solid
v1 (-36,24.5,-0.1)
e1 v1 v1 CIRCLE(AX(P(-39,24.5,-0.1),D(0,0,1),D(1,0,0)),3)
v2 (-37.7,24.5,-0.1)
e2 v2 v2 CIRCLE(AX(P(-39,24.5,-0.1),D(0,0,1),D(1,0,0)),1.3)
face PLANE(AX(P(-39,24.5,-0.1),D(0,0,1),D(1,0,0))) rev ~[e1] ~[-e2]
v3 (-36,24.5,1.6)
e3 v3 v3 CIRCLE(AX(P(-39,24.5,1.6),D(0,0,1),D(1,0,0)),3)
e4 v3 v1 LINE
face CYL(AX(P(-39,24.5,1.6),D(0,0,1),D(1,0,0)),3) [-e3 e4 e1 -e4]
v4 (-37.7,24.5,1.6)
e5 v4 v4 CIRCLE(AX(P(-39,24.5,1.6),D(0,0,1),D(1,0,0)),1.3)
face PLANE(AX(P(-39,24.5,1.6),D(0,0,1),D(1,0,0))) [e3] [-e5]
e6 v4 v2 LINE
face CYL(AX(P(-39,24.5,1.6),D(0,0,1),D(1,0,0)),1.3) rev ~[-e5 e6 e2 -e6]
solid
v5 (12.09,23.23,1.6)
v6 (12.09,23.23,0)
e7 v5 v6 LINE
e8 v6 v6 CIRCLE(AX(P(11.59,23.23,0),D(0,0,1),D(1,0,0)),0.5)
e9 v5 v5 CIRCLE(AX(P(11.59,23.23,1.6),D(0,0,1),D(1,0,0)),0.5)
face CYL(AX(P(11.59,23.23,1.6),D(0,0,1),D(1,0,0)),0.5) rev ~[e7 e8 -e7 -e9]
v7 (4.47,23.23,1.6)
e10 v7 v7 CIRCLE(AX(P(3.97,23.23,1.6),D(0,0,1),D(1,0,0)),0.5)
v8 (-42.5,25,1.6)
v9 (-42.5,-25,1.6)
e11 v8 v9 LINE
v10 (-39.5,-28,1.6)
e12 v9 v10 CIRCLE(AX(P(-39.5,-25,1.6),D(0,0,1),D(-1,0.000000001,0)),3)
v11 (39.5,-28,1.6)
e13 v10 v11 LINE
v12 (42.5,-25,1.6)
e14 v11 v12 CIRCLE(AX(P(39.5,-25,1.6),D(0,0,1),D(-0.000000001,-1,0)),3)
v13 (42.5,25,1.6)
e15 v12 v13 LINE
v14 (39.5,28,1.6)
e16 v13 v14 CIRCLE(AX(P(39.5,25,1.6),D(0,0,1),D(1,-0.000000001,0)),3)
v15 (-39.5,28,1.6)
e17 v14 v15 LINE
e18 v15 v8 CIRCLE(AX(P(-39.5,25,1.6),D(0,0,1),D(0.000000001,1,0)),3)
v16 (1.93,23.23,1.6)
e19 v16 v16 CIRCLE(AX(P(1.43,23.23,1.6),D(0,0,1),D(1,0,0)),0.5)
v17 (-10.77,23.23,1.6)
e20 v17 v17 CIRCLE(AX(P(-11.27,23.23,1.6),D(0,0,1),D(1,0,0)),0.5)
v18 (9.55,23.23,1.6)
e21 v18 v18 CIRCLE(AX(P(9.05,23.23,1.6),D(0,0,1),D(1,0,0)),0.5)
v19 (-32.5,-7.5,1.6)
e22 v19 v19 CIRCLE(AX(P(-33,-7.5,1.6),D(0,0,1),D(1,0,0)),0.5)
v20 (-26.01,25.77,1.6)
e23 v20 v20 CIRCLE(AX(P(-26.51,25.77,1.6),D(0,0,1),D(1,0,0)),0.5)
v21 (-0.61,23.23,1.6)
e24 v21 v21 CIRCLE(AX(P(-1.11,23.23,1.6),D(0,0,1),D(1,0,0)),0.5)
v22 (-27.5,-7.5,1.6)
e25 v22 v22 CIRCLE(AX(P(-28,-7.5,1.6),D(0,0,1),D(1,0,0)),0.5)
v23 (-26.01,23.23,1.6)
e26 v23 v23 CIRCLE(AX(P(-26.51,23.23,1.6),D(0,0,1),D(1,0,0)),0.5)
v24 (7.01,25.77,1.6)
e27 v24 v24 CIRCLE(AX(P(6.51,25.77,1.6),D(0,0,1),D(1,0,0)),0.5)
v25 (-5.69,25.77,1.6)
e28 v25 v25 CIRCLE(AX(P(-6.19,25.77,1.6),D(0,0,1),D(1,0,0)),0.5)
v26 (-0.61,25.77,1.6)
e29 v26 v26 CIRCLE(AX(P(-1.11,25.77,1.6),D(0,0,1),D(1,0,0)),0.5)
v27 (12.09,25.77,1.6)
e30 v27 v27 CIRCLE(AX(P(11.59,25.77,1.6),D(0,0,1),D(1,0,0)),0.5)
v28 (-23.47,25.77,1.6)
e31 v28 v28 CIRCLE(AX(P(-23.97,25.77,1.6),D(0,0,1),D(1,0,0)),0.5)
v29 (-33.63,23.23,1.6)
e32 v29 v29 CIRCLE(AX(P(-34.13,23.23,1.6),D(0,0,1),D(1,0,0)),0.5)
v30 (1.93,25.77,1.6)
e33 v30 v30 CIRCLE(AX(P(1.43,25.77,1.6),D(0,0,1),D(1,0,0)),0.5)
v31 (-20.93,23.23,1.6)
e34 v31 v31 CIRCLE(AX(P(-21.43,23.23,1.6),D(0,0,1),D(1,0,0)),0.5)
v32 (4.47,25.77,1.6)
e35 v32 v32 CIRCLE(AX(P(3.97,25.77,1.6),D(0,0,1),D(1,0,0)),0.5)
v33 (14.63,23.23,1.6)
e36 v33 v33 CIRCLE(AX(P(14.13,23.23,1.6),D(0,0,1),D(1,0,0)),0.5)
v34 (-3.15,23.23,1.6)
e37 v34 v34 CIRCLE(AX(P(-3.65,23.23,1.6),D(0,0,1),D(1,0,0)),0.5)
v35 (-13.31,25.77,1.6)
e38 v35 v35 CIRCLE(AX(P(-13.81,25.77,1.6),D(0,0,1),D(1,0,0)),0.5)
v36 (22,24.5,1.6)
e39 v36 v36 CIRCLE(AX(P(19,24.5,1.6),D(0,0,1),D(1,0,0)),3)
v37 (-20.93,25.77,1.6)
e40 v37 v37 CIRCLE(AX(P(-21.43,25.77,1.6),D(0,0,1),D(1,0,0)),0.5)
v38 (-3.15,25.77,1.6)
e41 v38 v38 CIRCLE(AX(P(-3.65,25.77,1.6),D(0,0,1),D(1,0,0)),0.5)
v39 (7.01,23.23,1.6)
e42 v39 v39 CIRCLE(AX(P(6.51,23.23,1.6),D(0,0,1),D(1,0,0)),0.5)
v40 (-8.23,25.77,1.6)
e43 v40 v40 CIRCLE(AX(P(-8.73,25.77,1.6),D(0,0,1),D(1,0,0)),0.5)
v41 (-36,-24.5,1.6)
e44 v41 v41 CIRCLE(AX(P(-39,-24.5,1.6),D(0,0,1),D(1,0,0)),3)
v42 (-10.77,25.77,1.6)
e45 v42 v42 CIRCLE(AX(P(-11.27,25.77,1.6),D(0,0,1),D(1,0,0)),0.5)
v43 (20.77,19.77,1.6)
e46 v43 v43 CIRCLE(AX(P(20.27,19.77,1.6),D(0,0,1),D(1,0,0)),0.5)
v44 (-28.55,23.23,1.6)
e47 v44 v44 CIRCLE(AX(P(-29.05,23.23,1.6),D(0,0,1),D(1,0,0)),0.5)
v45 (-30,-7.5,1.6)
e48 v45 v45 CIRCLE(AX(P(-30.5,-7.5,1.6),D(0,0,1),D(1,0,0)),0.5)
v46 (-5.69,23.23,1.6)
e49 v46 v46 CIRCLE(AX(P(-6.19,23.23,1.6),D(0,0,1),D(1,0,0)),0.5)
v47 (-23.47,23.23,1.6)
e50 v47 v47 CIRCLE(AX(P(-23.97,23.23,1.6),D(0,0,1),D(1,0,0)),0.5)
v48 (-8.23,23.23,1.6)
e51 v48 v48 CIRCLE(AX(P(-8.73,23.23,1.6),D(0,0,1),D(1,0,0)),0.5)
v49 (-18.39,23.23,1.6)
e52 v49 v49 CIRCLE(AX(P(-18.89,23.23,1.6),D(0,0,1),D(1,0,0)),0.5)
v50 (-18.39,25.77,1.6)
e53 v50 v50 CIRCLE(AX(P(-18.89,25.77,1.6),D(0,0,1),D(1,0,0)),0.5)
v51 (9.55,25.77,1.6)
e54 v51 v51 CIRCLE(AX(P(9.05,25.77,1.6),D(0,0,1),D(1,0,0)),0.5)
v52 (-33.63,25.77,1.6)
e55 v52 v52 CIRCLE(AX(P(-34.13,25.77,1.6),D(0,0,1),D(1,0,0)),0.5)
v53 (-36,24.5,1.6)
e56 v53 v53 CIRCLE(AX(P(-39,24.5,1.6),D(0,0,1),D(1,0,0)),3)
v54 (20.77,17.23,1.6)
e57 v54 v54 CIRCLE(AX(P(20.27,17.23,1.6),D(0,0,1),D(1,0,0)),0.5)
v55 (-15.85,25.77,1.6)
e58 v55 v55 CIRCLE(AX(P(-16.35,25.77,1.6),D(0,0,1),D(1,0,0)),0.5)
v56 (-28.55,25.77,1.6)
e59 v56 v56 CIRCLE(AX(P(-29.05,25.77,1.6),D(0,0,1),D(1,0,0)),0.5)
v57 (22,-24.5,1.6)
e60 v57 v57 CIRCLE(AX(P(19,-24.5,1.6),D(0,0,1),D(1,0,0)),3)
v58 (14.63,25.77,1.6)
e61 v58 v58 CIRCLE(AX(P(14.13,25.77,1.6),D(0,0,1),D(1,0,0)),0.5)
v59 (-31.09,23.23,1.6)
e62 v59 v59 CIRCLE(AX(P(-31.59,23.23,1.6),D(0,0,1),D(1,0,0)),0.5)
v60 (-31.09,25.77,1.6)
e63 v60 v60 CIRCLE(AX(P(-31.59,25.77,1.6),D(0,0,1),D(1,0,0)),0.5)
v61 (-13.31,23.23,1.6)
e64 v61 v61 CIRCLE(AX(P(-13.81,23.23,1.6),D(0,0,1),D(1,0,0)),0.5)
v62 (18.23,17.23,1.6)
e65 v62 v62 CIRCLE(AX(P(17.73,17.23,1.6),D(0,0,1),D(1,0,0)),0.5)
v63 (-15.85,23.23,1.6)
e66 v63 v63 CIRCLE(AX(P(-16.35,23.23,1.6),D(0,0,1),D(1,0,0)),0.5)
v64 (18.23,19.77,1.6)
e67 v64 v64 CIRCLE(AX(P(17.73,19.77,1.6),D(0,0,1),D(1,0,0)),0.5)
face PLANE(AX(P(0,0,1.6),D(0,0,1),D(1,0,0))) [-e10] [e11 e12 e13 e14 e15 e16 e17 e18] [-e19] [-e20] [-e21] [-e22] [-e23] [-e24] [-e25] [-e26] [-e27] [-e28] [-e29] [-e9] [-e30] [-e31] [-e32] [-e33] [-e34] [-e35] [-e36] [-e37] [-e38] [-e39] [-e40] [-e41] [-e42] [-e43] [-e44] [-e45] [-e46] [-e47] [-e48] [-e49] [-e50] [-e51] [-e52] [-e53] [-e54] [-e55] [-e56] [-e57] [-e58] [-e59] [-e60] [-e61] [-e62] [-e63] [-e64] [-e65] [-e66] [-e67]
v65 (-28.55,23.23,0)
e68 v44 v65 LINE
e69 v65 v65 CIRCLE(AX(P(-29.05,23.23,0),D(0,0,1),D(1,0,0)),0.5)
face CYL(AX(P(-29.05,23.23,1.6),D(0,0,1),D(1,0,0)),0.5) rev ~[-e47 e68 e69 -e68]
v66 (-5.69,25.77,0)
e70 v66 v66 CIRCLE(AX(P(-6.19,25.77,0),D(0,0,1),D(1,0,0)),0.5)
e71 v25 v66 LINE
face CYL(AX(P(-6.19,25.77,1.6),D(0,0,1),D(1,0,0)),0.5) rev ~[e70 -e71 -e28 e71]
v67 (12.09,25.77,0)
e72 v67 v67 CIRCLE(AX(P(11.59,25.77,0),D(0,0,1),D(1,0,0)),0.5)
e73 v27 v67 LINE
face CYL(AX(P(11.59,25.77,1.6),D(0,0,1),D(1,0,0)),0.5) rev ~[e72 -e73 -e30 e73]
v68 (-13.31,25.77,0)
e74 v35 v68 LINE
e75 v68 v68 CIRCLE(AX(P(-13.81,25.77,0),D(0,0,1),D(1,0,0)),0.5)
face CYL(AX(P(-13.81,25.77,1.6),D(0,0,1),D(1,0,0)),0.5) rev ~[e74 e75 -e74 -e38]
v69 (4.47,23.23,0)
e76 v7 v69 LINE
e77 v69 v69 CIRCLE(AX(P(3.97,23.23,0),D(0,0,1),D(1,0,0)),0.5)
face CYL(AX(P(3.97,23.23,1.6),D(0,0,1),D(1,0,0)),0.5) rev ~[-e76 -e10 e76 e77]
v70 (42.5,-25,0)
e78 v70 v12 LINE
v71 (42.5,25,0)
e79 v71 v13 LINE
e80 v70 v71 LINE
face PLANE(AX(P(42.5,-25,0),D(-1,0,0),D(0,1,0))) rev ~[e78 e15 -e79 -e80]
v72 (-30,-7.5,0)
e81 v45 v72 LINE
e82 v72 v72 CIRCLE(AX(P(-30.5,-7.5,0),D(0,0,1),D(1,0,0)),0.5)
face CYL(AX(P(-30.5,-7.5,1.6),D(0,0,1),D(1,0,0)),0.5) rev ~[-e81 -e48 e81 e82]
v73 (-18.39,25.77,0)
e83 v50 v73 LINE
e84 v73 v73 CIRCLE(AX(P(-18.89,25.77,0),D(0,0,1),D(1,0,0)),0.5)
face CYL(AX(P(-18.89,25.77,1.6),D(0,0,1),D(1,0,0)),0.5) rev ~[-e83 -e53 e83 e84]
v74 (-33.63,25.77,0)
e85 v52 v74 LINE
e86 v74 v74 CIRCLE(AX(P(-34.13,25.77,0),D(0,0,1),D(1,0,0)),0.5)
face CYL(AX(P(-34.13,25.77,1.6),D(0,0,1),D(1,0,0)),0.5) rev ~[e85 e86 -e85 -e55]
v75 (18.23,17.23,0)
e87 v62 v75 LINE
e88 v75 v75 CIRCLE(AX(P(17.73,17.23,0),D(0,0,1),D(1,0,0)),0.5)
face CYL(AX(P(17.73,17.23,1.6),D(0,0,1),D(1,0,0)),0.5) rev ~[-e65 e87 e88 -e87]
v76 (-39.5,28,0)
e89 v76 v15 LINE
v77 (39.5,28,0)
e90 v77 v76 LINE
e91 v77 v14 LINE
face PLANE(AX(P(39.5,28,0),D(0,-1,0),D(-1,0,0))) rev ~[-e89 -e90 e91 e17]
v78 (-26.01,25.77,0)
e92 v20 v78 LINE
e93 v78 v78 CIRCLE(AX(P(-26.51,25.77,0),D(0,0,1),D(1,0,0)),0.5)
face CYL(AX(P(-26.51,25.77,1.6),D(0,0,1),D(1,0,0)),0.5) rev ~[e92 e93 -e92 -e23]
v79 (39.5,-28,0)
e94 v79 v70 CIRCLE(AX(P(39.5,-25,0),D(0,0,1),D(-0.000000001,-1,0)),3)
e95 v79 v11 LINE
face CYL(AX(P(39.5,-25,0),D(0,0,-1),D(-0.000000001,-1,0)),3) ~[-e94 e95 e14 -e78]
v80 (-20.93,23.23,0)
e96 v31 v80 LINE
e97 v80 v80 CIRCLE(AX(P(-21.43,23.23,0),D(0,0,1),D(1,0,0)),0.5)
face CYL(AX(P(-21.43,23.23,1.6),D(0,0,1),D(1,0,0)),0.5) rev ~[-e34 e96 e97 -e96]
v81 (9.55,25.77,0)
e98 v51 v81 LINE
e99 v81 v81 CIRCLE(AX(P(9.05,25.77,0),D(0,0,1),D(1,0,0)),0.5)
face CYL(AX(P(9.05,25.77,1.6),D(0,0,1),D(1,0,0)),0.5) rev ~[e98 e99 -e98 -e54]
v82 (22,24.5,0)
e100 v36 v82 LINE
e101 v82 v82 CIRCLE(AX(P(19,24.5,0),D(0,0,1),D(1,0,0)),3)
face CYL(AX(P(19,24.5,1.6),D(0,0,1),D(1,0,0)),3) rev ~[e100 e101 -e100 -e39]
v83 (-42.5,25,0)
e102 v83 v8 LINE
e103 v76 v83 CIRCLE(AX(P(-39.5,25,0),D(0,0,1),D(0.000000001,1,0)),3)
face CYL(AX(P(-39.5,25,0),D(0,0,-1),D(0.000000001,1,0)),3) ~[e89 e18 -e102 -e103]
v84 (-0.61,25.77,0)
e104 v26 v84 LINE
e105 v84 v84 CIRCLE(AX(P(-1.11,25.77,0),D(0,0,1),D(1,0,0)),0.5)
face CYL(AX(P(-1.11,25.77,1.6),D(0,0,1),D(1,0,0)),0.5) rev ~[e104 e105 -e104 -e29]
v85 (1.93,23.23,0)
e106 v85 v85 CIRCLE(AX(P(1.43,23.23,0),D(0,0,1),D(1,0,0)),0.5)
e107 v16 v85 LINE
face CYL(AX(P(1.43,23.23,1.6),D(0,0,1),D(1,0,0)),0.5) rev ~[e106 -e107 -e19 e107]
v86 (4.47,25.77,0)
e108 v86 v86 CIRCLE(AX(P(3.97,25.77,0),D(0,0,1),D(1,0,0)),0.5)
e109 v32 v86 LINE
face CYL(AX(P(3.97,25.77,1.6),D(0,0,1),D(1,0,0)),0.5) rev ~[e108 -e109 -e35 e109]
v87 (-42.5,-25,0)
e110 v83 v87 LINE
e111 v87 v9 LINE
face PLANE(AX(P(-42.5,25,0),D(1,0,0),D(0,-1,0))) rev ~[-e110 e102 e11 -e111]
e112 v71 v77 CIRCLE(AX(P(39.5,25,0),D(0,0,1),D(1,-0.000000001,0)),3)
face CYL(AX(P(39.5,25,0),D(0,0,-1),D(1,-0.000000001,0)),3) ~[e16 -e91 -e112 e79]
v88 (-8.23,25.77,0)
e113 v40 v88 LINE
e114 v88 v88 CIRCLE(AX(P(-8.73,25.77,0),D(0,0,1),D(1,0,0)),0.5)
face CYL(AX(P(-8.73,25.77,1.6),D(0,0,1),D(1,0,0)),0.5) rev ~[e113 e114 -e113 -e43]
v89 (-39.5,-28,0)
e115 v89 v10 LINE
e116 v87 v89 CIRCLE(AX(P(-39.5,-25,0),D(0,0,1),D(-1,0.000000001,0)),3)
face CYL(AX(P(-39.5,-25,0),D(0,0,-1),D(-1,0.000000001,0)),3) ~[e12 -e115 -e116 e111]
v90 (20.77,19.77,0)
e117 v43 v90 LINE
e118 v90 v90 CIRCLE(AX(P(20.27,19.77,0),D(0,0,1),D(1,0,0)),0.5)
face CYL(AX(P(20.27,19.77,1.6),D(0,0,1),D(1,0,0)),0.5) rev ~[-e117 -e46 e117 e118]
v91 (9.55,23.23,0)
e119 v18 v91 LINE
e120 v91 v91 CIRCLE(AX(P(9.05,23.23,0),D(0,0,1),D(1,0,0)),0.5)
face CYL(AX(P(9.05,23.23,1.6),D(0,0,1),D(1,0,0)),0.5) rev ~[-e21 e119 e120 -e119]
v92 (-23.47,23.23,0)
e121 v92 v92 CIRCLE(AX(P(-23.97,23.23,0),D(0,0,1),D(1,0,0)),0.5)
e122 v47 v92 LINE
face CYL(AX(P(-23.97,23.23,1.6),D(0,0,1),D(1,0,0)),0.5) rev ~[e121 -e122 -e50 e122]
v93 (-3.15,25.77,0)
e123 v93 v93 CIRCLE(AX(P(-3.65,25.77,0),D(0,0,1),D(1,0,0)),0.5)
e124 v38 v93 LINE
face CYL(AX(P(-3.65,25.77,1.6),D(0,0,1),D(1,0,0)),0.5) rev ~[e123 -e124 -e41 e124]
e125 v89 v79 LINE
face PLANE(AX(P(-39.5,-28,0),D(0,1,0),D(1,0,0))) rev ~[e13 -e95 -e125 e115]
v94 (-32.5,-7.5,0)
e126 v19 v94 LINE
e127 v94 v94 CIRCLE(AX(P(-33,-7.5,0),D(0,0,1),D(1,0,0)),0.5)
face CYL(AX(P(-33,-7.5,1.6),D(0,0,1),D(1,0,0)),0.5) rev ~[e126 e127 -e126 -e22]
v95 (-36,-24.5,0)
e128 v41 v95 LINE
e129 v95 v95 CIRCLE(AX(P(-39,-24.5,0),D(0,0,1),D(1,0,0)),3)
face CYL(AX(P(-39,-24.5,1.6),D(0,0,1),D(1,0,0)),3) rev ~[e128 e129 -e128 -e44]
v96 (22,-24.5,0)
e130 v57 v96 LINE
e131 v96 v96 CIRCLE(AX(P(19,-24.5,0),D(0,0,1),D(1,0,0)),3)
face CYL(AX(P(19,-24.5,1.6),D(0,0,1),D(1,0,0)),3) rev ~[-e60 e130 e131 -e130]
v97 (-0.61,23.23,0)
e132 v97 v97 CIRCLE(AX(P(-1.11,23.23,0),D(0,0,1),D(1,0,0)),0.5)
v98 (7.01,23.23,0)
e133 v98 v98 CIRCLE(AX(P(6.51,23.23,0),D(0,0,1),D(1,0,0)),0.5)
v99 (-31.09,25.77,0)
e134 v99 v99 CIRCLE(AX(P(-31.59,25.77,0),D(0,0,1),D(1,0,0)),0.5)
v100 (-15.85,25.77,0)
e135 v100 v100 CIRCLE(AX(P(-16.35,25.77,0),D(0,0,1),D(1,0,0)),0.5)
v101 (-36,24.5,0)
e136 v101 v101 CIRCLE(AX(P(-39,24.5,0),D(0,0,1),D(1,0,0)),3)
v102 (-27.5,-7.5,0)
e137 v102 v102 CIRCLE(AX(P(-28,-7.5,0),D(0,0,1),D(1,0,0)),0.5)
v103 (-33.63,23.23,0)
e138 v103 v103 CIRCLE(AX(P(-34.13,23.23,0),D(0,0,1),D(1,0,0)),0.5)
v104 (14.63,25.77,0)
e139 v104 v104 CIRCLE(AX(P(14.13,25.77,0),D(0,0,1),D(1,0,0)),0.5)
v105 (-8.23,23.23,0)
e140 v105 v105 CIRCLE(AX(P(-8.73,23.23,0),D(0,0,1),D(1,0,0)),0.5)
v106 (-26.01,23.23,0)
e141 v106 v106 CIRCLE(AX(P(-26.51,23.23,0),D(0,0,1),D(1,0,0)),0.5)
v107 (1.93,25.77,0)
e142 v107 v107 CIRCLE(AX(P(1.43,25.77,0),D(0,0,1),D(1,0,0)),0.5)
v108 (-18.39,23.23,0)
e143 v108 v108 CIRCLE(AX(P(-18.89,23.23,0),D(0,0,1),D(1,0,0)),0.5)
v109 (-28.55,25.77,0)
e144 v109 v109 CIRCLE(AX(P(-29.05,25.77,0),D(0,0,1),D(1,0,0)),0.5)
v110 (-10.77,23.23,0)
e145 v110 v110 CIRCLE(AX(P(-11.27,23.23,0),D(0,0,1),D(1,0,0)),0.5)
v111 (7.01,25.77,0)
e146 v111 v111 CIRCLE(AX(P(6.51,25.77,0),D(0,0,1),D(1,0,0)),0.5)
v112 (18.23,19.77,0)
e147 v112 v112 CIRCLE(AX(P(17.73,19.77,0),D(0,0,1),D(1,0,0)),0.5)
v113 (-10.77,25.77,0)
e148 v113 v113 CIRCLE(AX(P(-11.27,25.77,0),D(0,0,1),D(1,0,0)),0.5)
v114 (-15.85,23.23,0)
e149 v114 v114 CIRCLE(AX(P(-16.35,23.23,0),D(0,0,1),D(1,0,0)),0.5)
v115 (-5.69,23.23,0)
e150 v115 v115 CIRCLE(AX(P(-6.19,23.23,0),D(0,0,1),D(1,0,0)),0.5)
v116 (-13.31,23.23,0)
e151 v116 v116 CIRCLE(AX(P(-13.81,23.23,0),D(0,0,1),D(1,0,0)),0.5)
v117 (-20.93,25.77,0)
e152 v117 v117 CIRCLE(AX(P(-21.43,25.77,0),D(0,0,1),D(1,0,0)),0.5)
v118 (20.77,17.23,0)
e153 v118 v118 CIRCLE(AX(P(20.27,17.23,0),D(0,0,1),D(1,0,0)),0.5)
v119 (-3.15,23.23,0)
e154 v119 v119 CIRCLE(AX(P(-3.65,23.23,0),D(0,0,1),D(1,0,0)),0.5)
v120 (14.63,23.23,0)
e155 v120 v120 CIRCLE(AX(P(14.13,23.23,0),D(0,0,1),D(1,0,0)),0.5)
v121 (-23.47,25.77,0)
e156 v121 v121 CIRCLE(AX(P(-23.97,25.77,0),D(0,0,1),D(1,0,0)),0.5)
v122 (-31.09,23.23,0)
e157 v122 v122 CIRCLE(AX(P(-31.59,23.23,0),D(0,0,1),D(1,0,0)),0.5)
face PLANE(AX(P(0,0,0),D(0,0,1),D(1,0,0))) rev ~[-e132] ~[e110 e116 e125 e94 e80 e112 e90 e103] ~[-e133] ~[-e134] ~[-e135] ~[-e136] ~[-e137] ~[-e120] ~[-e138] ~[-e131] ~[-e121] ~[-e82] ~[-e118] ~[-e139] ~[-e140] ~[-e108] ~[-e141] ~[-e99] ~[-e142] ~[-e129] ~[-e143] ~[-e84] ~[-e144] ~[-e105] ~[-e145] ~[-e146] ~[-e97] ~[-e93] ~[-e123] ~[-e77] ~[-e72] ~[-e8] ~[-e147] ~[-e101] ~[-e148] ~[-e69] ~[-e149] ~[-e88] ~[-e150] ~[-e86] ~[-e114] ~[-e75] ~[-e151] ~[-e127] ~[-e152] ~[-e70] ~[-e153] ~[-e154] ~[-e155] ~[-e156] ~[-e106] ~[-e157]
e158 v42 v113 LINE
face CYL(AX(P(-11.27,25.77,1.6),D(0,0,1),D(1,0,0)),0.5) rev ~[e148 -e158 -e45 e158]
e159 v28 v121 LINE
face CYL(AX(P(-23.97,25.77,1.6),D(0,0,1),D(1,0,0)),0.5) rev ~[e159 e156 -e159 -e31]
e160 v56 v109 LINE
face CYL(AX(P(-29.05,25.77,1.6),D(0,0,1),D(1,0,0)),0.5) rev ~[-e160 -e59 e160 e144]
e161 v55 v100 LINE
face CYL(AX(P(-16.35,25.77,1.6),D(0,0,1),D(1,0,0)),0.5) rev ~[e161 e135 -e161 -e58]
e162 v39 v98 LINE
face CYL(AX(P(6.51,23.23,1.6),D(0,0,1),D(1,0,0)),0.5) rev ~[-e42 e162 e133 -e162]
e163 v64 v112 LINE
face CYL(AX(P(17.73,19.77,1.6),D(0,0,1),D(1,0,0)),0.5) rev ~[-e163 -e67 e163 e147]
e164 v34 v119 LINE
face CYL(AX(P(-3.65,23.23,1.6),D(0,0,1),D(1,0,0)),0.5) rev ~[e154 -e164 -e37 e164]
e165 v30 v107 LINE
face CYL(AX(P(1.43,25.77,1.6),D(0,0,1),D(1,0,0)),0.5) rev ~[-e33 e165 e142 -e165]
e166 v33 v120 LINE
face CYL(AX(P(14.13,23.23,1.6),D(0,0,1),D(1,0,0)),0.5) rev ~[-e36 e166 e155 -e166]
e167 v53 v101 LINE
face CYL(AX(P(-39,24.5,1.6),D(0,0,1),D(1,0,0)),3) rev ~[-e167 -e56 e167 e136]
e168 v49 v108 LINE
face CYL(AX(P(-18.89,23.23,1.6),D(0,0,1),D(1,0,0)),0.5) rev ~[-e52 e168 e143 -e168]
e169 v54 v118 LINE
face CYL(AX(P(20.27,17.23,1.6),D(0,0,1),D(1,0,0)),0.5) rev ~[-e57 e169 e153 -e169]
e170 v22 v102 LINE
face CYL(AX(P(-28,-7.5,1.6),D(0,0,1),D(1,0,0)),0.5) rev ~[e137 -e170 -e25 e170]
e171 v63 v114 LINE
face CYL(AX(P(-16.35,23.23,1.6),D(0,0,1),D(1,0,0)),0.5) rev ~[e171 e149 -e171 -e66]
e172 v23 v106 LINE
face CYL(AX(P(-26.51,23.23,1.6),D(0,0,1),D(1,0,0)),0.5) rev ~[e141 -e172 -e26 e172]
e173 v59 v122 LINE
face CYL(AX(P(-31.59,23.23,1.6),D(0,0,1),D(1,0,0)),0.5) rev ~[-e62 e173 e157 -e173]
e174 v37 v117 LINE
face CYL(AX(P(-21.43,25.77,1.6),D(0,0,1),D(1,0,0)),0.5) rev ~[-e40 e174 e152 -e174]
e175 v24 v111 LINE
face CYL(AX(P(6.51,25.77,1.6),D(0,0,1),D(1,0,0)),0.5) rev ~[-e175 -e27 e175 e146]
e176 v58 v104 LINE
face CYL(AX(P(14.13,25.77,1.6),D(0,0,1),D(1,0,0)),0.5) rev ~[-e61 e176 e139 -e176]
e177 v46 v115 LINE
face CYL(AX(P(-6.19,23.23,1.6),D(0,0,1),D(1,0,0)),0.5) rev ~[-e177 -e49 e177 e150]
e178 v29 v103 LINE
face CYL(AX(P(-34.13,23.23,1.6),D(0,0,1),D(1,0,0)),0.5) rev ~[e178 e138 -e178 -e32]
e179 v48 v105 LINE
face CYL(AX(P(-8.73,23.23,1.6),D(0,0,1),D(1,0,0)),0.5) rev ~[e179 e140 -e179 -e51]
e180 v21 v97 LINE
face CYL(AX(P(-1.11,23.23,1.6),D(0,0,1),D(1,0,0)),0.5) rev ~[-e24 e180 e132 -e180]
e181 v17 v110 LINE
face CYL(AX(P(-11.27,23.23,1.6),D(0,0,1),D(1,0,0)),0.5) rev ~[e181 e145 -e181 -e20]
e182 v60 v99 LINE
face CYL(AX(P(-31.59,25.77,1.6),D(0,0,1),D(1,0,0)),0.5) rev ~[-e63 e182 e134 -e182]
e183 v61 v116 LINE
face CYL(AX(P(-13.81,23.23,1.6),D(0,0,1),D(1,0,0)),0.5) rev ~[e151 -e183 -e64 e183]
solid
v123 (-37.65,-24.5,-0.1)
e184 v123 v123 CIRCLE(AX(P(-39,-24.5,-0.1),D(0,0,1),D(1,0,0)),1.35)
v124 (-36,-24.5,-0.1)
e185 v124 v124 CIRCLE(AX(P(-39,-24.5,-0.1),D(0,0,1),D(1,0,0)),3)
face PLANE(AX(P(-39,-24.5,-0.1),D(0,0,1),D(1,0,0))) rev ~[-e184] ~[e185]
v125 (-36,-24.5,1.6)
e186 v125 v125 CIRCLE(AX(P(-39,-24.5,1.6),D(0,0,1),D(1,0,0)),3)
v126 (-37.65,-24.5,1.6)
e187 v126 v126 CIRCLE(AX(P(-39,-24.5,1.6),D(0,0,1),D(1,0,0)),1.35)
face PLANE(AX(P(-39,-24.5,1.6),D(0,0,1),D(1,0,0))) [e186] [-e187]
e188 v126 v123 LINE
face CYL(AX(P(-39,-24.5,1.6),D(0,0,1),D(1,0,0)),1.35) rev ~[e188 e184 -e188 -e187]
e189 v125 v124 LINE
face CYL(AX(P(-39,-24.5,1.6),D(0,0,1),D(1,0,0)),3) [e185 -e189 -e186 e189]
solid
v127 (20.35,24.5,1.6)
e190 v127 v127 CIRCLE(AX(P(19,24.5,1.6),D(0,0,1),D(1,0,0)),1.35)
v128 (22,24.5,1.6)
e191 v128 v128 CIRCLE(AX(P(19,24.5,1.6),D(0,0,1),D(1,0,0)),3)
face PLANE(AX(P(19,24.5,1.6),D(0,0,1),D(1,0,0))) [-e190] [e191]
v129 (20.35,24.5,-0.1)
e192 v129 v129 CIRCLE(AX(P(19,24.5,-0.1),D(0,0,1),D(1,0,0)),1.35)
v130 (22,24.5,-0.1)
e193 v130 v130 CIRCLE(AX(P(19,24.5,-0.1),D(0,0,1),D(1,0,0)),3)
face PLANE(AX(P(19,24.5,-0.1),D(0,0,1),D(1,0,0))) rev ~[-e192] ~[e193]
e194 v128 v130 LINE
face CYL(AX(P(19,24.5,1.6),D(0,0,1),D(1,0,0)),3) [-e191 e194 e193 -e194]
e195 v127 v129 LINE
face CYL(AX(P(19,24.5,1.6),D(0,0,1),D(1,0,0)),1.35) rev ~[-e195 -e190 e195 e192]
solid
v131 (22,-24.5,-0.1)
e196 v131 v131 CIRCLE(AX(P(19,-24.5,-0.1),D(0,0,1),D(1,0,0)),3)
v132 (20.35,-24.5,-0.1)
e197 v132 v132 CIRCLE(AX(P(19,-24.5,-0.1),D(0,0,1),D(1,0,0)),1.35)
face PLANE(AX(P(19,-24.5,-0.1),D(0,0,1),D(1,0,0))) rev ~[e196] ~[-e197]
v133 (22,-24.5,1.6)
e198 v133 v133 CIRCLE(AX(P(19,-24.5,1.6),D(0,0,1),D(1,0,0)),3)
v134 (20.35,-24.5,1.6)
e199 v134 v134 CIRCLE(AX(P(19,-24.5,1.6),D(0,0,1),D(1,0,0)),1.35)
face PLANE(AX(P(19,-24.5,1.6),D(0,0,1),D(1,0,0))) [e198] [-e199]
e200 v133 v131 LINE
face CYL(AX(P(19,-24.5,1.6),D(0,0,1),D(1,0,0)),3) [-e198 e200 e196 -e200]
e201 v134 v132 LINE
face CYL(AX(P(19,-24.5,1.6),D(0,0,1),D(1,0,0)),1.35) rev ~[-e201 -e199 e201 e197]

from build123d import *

# Parameters (mm, degrees)
BOSS_EXTRUDE1_DEPTH   = 1.6
SKETCH3_R             = 3
CUT_EXTRUDE1_DEPTH    = 2.6
SKETCH4_R             = 3
SKETCH4_R_2           = 1.35
BOSS_EXTRUDE2_DEPTH   = 1.7
BOSS_EXTRUDE2_2_DEPTH = 1.7
BOSS_EXTRUDE2_3_DEPTH = 1.7
SKETCH4_R_3           = 1.3
BOSS_EXTRUDE2_4_DEPTH = 1.7
SKETCH5_R             = 0.5
CUT_EXTRUDE2_DEPTH    = 2.7
SKETCH6_R             = 0.5
CUT_EXTRUDE3_DEPTH    = 2.7
SKETCH7_R             = 0.5
CUT_EXTRUDE4_DEPTH    = 2.7


with BuildPart() as part:
    # Sketch1 → Boss-Extrude1 (new body)
    with BuildSketch(Plane.XY):
        with BuildLine():
            Line((-39.5, -28), (39.5, -28))
            ThreePointArc((39.5, -28), (41.621320344, -27.121320344), (42.5, -25))
            Line((42.5, -25), (42.5, 25))
            ThreePointArc((42.5, 25), (41.621320344, 27.121320344), (39.5, 28))
            Line((39.5, 28), (-39.5, 28))
            ThreePointArc((-39.5, 28), (-41.621320344, 27.121320344), (-42.5, 25))
            Line((-42.5, 25), (-42.5, -25))
            ThreePointArc((-42.5, -25), (-41.621320344, -27.121320344), (-39.5, -28))
        make_face()
    extrude(amount=BOSS_EXTRUDE1_DEPTH)

    # Sketch3 → Cut-Extrude1 (cut, through all)
    with BuildSketch(Plane.XY.offset(1.6)):
        with Locations((-39, 24.5)):
            Circle(SKETCH3_R)
        with Locations((-39, -24.5)):
            Circle(SKETCH3_R)
        with Locations((19, -24.5)):
            Circle(SKETCH3_R)
        with Locations((19, 24.5)):
            Circle(SKETCH3_R)
    extrude(amount=-CUT_EXTRUDE1_DEPTH, mode=Mode.SUBTRACT)

    # Sketch5 → Cut-Extrude2 (cut, through all)
    with BuildSketch(Plane.XY.offset(1.6)):
        with Locations((-33, -7.5)):
            Circle(SKETCH5_R)
        with Locations((-30.5, -7.5)):
            Circle(SKETCH5_R)
        with Locations((-28, -7.5)):
            Circle(SKETCH5_R)
    extrude(amount=-CUT_EXTRUDE2_DEPTH, mode=Mode.SUBTRACT)

    # Sketch6 → Cut-Extrude3 (cut, through all)
    with BuildSketch(Plane.XY.offset(1.6)):
        with Locations((-34.13, 25.77)):
            Circle(SKETCH6_R)
        with Locations((-34.13, 23.23)):
            Circle(SKETCH6_R)
        with Locations((-31.59, 25.77)):
            Circle(SKETCH6_R)
        with Locations((-31.59, 23.23)):
            Circle(SKETCH6_R)
        with Locations((-29.05, 25.77)):
            Circle(SKETCH6_R)
        with Locations((-29.05, 23.23)):
            Circle(SKETCH6_R)
        with Locations((-26.51, 25.77)):
            Circle(SKETCH6_R)
        with Locations((-26.51, 23.23)):
            Circle(SKETCH6_R)
        with Locations((-23.97, 25.77)):
            Circle(SKETCH6_R)
        with Locations((-23.97, 23.23)):
            Circle(SKETCH6_R)
        with Locations((-21.43, 25.77)):
            Circle(SKETCH6_R)
        with Locations((-21.43, 23.23)):
            Circle(SKETCH6_R)
        with Locations((-18.89, 25.77)):
            Circle(SKETCH6_R)
        with Locations((-18.89, 23.23)):
            Circle(SKETCH6_R)
        with Locations((-16.35, 25.77)):
            Circle(SKETCH6_R)
        with Locations((-16.35, 23.23)):
            Circle(SKETCH6_R)
        with Locations((-13.81, 25.77)):
            Circle(SKETCH6_R)
        with Locations((-13.81, 23.23)):
            Circle(SKETCH6_R)
        with Locations((-11.27, 25.77)):
            Circle(SKETCH6_R)
        with Locations((-11.27, 23.23)):
            Circle(SKETCH6_R)
        with Locations((-8.73, 25.77)):
            Circle(SKETCH6_R)
        with Locations((-8.73, 23.23)):
            Circle(SKETCH6_R)
        with Locations((-6.19, 25.77)):
            Circle(SKETCH6_R)
        with Locations((-6.19, 23.23)):
            Circle(SKETCH6_R)
        with Locations((-3.65, 25.77)):
            Circle(SKETCH6_R)
        with Locations((-3.65, 23.23)):
            Circle(SKETCH6_R)
        with Locations((-1.11, 25.77)):
            Circle(SKETCH6_R)
        with Locations((-1.11, 23.23)):
            Circle(SKETCH6_R)
        with Locations((1.43, 25.77)):
            Circle(SKETCH6_R)
        with Locations((1.43, 23.23)):
            Circle(SKETCH6_R)
        with Locations((3.97, 25.77)):
            Circle(SKETCH6_R)
        with Locations((3.97, 23.23)):
            Circle(SKETCH6_R)
        with Locations((6.51, 25.77)):
            Circle(SKETCH6_R)
        with Locations((6.51, 23.23)):
            Circle(SKETCH6_R)
        with Locations((9.05, 25.77)):
            Circle(SKETCH6_R)
        with Locations((9.05, 23.23)):
            Circle(SKETCH6_R)
        with Locations((11.59, 25.77)):
            Circle(SKETCH6_R)
        with Locations((11.59, 23.23)):
            Circle(SKETCH6_R)
        with Locations((14.13, 25.77)):
            Circle(SKETCH6_R)
        with Locations((14.13, 23.23)):
            Circle(SKETCH6_R)
    extrude(amount=-CUT_EXTRUDE3_DEPTH, mode=Mode.SUBTRACT)

    # Sketch7 → Cut-Extrude4 (cut, through all)
    with BuildSketch(Plane.XY.offset(1.6)):
        with Locations((20.27, 19.77)):
            Circle(SKETCH7_R)
        with Locations((17.73, 19.77)):
            Circle(SKETCH7_R)
        with Locations((17.73, 17.23)):
            Circle(SKETCH7_R)
        with Locations((20.27, 17.23)):
            Circle(SKETCH7_R)
    extrude(amount=-CUT_EXTRUDE4_DEPTH, mode=Mode.SUBTRACT)


with BuildPart() as body_2:
    # Sketch4 → Boss-Extrude2 (new body)
    with BuildSketch(Plane.XY.offset(1.6)):
        with Locations((-39, -24.5)):
            Circle(SKETCH4_R)
        with Locations((-39, -24.5)):
            Circle(SKETCH4_R_2, mode=Mode.SUBTRACT)
    extrude(amount=-BOSS_EXTRUDE2_DEPTH)


with BuildPart() as body_3:
    # Sketch4 → Boss-Extrude2 2 (new body)
    with BuildSketch(Plane.XY.offset(1.6)):
        with Locations((19, -24.5)):
            Circle(SKETCH4_R)
        with Locations((19, -24.5)):
            Circle(SKETCH4_R_2, mode=Mode.SUBTRACT)
    extrude(amount=-BOSS_EXTRUDE2_2_DEPTH)


with BuildPart() as body_4:
    # Sketch4 → Boss-Extrude2 3 (new body)
    with BuildSketch(Plane.XY.offset(1.6)):
        with Locations((19, 24.5)):
            Circle(SKETCH4_R)
        with Locations((19, 24.5)):
            Circle(SKETCH4_R_2, mode=Mode.SUBTRACT)
    extrude(amount=-BOSS_EXTRUDE2_3_DEPTH)


with BuildPart() as body_5:
    # Sketch4 → Boss-Extrude2 4 (new body)
    with BuildSketch(Plane.XY.offset(1.6)):
        with Locations((-39, 24.5)):
            Circle(SKETCH4_R)
        with Locations((-39, 24.5)):
            Circle(SKETCH4_R_3, mode=Mode.SUBTRACT)
    extrude(amount=-BOSS_EXTRUDE2_4_DEPTH)


solid = Compound([part.part, body_2.part, body_3.part, body_4.part, body_5.part])
